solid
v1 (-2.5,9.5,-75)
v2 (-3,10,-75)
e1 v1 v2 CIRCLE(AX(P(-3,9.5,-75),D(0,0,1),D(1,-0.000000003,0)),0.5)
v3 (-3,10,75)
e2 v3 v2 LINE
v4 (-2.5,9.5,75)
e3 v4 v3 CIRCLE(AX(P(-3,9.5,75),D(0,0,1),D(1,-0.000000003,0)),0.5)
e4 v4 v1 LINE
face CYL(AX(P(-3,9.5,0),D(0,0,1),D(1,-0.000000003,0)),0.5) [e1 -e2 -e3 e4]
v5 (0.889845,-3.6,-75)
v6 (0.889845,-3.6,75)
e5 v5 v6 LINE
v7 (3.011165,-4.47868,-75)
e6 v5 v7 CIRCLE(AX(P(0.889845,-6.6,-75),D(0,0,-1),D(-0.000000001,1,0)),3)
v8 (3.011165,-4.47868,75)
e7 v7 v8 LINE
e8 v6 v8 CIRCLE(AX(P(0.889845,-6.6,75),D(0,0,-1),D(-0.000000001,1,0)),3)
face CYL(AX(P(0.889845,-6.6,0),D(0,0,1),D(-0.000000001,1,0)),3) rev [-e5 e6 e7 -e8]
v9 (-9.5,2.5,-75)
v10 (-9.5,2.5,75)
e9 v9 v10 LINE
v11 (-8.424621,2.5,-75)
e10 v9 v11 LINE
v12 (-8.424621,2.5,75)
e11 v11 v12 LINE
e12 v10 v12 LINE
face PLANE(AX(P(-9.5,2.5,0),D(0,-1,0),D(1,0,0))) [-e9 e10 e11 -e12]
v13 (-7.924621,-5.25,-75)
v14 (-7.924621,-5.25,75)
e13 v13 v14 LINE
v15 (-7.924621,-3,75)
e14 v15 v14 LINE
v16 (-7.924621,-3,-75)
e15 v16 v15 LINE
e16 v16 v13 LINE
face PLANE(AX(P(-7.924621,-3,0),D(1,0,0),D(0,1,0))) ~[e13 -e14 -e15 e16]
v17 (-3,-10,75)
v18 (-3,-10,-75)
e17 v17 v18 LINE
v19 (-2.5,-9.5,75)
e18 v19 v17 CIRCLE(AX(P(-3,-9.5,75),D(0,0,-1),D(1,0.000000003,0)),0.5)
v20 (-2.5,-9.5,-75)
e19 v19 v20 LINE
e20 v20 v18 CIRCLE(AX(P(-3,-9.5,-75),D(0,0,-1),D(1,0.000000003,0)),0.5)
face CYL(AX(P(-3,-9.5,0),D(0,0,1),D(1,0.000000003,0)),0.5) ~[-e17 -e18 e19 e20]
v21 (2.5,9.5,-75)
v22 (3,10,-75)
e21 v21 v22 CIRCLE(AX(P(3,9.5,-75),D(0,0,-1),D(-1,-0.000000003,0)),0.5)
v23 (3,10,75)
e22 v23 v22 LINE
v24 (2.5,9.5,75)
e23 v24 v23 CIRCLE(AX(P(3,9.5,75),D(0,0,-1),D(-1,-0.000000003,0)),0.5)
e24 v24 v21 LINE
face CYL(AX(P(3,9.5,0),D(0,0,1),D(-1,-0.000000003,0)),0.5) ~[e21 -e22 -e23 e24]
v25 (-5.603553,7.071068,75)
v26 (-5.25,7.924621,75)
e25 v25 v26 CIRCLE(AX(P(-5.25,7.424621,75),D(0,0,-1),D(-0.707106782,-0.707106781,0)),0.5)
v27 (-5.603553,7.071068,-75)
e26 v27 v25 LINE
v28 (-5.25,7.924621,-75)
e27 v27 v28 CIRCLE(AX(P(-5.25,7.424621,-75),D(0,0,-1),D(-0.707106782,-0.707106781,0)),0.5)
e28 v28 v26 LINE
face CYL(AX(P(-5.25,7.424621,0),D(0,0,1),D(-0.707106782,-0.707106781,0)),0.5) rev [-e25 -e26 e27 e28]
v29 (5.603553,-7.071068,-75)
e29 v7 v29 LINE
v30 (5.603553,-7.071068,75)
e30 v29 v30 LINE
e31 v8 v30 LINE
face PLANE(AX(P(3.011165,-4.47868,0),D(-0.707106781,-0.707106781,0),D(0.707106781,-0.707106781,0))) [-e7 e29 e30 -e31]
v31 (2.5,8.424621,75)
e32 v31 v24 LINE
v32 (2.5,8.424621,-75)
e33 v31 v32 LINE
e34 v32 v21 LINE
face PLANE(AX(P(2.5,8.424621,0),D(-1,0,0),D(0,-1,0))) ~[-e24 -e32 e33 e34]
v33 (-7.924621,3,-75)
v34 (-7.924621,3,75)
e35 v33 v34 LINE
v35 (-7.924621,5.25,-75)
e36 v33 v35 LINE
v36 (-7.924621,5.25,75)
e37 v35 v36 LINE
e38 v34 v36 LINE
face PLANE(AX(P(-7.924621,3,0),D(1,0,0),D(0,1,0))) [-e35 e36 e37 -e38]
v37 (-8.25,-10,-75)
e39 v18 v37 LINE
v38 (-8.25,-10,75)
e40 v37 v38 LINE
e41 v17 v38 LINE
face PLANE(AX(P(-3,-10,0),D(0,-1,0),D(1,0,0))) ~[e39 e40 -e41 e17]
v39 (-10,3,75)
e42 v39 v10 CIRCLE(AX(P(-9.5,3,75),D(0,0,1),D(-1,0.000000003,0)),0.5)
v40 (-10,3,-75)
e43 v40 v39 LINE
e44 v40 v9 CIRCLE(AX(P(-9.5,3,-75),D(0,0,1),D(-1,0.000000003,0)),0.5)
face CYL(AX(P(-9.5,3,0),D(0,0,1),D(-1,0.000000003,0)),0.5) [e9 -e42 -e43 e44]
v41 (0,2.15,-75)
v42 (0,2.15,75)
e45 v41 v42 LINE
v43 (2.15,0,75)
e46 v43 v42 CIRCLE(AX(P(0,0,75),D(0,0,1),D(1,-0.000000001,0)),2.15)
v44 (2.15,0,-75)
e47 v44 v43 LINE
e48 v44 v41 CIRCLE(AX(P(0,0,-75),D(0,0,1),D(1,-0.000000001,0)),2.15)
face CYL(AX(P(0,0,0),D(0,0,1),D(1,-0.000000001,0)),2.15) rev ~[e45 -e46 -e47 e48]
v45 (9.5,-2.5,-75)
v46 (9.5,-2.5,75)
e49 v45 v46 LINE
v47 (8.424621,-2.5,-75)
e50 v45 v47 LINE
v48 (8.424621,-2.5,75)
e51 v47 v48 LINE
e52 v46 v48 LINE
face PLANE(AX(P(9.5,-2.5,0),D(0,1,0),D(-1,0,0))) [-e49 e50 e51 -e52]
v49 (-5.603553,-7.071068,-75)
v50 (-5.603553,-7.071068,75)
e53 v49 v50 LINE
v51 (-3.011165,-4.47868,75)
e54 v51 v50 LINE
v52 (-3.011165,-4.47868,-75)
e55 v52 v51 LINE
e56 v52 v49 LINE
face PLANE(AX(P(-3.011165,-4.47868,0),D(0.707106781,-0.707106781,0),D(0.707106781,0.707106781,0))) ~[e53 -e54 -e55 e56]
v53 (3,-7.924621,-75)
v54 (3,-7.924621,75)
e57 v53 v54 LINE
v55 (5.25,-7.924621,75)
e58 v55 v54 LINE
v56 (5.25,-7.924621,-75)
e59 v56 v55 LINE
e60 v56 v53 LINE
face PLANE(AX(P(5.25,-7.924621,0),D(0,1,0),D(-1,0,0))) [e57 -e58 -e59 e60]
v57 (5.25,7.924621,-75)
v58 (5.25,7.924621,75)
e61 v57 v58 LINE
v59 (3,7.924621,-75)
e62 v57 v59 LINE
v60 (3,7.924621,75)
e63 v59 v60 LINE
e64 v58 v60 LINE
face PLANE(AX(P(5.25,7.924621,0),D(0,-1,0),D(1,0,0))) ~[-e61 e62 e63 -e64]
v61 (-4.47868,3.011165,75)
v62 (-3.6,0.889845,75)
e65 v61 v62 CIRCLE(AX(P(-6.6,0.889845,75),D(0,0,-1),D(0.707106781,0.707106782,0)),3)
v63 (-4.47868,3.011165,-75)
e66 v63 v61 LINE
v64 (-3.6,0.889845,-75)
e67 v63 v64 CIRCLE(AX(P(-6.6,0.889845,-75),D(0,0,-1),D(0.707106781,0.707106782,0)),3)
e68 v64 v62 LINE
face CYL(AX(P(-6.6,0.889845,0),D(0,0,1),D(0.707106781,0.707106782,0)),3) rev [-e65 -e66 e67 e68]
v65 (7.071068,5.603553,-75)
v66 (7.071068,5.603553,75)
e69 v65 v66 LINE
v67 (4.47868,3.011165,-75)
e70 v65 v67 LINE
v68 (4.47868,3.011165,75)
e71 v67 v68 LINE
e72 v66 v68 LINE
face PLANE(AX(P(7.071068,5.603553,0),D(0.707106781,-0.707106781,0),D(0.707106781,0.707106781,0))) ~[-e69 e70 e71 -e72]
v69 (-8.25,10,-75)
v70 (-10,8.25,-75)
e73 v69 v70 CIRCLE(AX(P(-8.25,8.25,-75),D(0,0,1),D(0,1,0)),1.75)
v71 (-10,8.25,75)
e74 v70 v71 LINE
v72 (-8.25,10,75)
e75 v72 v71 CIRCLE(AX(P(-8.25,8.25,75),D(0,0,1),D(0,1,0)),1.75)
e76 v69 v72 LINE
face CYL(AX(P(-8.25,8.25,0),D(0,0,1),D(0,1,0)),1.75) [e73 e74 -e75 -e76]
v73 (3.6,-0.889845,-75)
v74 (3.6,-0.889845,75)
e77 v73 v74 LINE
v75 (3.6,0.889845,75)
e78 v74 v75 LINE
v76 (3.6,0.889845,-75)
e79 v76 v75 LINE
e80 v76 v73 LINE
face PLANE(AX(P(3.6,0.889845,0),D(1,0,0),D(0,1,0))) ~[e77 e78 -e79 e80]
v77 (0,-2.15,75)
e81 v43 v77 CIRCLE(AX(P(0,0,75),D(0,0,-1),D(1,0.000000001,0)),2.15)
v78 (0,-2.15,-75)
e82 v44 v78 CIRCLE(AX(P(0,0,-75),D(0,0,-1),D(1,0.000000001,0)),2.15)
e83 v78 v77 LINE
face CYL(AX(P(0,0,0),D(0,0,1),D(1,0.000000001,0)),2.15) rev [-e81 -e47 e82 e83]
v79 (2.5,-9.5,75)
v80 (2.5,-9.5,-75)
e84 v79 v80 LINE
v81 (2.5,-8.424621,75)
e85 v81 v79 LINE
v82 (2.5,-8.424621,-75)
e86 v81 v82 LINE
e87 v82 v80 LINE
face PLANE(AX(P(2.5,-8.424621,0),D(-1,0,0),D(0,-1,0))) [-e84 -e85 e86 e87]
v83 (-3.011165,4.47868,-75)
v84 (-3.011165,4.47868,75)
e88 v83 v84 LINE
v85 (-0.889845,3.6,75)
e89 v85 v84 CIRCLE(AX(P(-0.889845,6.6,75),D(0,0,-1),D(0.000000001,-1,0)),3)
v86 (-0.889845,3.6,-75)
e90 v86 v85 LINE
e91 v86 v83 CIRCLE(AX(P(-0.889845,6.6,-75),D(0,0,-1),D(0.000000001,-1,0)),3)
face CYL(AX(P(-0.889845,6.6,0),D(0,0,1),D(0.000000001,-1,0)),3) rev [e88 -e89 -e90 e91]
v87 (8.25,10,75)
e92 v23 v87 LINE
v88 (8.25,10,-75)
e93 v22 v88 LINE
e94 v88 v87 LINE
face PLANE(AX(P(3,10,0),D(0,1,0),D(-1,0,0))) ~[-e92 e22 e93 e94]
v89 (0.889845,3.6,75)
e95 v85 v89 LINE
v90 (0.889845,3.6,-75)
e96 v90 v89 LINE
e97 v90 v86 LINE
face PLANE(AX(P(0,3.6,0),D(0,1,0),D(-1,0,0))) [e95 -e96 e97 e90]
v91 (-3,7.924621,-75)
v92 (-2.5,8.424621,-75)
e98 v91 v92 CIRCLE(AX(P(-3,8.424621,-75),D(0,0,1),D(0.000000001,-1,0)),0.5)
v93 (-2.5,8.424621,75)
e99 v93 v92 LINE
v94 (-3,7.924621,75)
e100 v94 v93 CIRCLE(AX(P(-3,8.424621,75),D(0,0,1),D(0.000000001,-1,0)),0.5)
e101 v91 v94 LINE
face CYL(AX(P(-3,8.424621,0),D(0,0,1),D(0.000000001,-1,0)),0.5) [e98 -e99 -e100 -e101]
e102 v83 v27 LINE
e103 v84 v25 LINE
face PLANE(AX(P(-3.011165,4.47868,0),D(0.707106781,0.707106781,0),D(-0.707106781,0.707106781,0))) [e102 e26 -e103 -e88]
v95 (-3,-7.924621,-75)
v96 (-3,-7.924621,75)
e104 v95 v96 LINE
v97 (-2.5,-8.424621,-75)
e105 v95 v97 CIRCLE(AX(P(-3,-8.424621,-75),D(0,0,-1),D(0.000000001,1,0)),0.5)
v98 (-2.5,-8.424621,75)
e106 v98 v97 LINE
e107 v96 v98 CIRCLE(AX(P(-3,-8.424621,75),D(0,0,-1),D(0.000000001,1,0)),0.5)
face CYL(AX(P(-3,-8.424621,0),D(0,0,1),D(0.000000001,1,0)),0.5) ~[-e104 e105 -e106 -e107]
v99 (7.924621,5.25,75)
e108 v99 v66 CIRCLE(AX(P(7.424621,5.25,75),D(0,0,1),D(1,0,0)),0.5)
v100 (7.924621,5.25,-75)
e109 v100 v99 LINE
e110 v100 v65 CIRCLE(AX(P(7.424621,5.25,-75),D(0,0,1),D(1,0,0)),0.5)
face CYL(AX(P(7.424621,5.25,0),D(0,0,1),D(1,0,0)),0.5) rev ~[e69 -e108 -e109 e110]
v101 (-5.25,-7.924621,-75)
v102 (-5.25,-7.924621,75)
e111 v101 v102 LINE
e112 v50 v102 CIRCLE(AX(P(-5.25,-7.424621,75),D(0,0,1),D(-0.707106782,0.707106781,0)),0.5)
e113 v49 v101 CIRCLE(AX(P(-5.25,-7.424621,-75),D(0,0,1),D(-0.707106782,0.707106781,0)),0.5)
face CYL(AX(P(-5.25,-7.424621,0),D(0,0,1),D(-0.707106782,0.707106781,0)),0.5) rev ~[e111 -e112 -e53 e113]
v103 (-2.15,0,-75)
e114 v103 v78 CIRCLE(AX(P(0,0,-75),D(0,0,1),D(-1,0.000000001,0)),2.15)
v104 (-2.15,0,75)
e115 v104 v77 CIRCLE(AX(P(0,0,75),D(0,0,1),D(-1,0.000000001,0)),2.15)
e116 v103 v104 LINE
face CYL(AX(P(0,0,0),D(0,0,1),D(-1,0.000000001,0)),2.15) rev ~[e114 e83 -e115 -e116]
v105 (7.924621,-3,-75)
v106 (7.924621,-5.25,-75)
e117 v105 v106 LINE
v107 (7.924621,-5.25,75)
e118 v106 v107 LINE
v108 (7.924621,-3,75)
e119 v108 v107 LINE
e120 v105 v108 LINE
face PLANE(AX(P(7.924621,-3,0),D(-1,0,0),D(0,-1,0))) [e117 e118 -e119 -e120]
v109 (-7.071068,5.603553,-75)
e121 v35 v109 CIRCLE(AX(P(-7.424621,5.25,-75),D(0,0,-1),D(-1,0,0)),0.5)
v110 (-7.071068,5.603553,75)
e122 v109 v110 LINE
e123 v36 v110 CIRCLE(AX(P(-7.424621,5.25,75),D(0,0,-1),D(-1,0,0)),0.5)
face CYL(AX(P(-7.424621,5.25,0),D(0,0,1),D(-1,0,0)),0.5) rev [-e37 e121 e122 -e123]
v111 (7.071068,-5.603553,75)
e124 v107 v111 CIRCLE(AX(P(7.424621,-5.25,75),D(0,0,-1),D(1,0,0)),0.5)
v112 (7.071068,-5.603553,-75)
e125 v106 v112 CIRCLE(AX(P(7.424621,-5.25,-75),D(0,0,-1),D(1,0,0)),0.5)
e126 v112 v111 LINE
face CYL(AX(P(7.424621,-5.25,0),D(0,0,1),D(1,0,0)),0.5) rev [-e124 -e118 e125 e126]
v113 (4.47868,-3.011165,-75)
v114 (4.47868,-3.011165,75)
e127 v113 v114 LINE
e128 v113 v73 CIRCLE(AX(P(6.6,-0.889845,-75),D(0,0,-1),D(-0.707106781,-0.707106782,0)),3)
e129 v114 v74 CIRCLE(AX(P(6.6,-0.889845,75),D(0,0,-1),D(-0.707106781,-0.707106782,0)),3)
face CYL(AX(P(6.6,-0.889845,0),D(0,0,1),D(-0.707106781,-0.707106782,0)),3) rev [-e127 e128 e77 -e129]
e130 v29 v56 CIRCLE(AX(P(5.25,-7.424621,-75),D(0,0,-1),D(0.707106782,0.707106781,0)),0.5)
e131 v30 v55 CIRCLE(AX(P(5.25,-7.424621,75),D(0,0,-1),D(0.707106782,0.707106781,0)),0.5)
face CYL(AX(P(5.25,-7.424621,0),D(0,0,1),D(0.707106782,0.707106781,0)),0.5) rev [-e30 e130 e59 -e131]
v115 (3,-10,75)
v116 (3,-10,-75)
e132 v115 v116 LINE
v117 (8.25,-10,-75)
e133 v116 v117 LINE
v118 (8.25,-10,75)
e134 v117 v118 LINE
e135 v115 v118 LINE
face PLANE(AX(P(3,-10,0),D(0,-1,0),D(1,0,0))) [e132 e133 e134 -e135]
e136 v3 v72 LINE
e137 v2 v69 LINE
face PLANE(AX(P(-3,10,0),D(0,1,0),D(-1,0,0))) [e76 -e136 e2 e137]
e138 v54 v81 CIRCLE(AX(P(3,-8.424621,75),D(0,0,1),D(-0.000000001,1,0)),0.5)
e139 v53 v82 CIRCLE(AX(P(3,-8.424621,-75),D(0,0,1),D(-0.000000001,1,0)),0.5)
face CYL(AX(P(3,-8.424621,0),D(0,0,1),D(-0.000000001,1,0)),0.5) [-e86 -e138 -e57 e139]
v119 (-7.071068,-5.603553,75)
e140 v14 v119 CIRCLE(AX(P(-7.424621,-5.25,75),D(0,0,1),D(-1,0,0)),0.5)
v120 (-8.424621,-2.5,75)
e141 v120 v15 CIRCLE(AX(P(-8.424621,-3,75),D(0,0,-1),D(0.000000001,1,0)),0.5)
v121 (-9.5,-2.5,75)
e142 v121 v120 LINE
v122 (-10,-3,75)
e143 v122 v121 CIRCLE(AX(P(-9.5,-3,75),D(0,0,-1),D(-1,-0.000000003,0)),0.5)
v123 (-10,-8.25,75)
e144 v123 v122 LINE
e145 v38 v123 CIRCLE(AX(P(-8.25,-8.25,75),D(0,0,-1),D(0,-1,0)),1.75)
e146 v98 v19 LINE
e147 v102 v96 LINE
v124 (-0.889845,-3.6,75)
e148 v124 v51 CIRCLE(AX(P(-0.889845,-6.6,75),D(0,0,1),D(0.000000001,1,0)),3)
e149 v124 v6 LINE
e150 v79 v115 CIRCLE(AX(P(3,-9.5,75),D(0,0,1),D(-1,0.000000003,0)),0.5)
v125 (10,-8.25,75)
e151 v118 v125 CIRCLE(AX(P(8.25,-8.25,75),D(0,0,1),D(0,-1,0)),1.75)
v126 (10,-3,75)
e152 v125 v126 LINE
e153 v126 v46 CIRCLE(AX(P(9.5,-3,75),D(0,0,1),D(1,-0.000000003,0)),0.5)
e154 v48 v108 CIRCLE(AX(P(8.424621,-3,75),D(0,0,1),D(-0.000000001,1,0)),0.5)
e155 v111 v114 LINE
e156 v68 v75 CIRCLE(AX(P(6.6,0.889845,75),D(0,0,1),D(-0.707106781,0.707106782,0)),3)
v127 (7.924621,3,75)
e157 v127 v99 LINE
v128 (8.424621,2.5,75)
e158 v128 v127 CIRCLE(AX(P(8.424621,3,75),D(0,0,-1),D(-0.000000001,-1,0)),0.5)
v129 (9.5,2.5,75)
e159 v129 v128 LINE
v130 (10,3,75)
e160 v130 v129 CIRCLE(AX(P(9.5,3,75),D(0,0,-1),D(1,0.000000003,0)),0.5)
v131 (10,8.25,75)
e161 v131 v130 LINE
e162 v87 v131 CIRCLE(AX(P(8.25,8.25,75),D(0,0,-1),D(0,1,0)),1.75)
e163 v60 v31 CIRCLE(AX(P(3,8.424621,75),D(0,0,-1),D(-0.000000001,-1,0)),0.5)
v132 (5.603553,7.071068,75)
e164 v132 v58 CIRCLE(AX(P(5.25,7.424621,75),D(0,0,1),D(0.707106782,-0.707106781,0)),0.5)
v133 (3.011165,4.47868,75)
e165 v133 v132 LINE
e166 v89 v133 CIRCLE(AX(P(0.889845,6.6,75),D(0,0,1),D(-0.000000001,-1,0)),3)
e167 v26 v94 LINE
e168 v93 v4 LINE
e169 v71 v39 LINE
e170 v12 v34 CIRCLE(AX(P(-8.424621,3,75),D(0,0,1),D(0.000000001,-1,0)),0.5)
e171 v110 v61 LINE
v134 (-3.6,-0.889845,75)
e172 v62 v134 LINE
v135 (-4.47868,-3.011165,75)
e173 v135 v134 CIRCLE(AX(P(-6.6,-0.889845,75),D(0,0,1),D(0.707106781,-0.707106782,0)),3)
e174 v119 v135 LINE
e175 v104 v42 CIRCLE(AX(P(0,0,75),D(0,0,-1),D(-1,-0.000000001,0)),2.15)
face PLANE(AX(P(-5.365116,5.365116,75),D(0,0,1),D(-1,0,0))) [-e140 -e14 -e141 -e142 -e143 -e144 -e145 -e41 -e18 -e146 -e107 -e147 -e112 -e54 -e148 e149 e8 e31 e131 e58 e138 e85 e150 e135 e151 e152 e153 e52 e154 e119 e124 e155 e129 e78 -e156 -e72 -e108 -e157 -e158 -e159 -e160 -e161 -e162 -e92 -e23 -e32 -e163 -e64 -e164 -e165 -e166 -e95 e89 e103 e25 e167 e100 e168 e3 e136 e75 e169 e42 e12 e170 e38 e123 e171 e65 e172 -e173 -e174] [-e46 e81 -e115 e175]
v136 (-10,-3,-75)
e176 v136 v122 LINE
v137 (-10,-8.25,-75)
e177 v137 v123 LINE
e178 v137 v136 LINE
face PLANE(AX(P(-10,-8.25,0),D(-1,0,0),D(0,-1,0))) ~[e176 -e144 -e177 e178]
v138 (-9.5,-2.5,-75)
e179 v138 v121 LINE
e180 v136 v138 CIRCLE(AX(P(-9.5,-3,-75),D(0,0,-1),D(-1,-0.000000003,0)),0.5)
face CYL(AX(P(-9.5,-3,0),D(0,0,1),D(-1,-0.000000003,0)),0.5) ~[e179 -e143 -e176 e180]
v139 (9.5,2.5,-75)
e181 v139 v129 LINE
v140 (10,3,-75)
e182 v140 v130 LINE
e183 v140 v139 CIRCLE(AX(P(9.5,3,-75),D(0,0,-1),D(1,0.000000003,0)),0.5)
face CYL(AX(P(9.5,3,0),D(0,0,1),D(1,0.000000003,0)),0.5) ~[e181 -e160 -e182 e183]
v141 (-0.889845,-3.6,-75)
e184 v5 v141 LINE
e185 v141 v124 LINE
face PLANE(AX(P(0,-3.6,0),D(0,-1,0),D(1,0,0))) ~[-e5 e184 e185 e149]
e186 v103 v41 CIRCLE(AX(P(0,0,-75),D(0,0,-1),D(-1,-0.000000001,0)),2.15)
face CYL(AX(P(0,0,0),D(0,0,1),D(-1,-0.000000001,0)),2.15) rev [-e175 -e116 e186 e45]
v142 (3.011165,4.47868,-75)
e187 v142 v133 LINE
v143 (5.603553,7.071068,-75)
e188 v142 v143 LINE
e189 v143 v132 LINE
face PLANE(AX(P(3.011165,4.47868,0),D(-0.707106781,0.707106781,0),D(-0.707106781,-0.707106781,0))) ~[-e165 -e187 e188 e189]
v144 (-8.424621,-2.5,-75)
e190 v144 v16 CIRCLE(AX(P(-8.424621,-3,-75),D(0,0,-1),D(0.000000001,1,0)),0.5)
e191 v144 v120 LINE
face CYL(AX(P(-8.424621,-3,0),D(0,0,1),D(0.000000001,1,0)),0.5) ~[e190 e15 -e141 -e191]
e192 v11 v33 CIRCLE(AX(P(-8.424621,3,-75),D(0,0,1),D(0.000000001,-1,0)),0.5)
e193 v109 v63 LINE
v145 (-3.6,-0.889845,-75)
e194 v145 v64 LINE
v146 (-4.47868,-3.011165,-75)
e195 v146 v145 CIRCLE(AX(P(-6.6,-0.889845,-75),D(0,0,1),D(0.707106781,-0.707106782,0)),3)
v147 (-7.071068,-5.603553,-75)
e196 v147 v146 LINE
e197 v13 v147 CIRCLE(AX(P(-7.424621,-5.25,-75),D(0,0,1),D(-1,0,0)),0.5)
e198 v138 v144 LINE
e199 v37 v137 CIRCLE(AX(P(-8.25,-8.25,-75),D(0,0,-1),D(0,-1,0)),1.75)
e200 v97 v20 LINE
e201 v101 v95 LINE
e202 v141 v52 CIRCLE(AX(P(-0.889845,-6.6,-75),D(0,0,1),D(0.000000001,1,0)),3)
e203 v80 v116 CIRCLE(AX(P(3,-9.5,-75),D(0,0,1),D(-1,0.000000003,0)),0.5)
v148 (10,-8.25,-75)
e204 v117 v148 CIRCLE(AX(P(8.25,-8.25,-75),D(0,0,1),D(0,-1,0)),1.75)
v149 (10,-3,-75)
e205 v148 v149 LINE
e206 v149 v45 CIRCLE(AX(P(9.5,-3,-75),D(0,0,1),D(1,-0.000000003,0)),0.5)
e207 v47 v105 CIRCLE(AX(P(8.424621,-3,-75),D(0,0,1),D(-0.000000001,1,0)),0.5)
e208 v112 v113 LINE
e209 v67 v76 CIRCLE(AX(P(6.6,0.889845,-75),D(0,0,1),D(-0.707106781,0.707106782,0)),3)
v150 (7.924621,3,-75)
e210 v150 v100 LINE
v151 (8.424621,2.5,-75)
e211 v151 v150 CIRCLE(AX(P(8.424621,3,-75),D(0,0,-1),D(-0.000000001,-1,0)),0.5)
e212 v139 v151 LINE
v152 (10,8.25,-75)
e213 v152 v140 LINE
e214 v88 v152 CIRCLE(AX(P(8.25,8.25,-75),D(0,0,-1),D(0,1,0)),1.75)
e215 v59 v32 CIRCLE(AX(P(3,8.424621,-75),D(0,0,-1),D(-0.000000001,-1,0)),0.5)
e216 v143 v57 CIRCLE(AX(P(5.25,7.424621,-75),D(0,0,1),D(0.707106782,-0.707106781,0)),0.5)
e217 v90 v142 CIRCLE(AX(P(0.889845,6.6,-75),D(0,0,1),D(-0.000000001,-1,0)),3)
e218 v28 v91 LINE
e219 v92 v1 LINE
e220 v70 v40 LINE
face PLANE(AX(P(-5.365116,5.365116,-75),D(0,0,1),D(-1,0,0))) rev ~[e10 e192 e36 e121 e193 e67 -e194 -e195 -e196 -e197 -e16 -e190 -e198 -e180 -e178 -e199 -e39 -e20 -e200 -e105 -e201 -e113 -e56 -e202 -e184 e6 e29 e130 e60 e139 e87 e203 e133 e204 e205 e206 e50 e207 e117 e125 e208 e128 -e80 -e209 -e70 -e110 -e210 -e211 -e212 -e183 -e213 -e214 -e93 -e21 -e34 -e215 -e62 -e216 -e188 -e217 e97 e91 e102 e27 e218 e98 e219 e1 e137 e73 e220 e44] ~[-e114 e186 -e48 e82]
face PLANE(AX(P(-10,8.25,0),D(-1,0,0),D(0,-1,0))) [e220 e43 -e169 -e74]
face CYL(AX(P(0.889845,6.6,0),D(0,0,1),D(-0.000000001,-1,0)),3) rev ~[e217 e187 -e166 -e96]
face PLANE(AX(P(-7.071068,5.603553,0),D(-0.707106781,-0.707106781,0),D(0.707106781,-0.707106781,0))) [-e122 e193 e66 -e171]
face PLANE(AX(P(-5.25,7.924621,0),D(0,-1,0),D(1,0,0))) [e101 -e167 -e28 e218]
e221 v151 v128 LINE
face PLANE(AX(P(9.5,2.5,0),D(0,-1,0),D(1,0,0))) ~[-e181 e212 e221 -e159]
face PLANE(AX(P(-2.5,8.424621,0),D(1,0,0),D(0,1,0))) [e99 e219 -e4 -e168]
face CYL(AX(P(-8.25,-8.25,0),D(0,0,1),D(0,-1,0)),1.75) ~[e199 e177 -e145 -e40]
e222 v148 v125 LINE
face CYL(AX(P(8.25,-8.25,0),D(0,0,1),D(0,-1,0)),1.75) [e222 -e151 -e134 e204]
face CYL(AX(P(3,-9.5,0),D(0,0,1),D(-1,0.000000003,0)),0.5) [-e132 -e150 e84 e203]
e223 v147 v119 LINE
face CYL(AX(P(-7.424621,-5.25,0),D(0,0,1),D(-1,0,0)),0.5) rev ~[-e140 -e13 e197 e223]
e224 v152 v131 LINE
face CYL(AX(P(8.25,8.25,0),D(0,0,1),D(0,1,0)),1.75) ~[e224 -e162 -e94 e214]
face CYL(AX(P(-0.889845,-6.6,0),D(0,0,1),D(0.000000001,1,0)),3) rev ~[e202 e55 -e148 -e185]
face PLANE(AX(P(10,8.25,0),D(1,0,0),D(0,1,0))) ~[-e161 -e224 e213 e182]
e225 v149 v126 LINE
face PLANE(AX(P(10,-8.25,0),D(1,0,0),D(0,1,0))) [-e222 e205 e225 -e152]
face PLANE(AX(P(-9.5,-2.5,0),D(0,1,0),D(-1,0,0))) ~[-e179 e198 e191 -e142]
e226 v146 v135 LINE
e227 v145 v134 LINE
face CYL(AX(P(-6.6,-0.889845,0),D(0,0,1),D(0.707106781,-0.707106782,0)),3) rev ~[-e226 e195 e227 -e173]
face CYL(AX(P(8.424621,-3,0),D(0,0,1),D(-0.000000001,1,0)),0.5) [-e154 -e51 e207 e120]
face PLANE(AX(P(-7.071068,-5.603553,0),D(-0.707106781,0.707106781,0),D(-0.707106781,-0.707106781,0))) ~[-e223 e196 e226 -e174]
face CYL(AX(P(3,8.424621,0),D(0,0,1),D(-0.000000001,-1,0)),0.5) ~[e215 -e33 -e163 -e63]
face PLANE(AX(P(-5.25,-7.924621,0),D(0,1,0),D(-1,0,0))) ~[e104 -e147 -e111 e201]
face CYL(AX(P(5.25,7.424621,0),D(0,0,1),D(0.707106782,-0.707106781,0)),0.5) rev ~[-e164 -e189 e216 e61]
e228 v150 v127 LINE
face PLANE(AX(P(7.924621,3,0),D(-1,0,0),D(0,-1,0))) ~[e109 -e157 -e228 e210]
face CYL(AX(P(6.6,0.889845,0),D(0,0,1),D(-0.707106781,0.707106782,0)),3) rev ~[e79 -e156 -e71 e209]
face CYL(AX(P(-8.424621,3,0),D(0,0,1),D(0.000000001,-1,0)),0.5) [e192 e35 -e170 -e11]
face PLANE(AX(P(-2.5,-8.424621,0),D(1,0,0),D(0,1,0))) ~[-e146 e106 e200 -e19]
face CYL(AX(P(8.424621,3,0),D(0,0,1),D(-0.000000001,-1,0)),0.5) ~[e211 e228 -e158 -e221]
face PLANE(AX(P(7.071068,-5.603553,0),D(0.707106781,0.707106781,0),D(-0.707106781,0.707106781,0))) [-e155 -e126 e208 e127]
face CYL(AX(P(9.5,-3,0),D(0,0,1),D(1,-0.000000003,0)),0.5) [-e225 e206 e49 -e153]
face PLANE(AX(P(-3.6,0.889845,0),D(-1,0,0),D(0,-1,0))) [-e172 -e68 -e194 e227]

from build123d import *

# Parameters (mm, degrees)
BOSS_EXTRUDE1_DEPTH = 75


with BuildPart() as part:
    # Sketch4 → Boss-Extrude1 (new, symmetric)
    with BuildSketch(Plane.XY):
        with BuildLine():
            Line((3, -10), (8.25, -10))
            ThreePointArc((8.25, -10), (9.487436867, -9.487436867), (10, -8.25))
            Line((10, -8.25), (10, -3))
            ThreePointArc((10, -3), (9.853553391, -2.646446609), (9.5, -2.5))
            Line((9.5, -2.5), (8.424621202, -2.5))
            ThreePointArc((8.424621202, -2.5), (8.071067812, -2.646446609), (7.924621202, -3))
            Line((7.924621202, -3), (7.924621202, -5.25))
            ThreePointArc((7.924621202, -5.25), (7.615962919, -5.711939766), (7.071067812, -5.603553391))
            Line((7.071067812, -5.603553391), (4.478679656, -3.011165235))
            ThreePointArc((4.478679656, -3.011165235), (3.828361402, -2.037895189), (3.6, -0.889844892))
            Line((3.6, -0.889844892), (3.6, 0))
            Line((3.6, 0), (2.15, 0))
            ThreePointArc((2.15, 0), (1.52027958, -1.52027958), (0, -2.15))
            Line((0, -2.15), (0, -3.6))
            Line((0, -3.6), (0.889844892, -3.6))
            ThreePointArc((0.889844892, -3.6), (2.037895189, -3.828361402), (3.011165235, -4.478679656))
            Line((3.011165235, -4.478679656), (5.603553391, -7.071067812))
            ThreePointArc((5.603553391, -7.071067812), (5.711939766, -7.615962919), (5.25, -7.924621202))
            Line((5.25, -7.924621202), (3, -7.924621202))
            ThreePointArc((3, -7.924621202), (2.646446609, -8.071067812), (2.5, -8.424621202))
            Line((2.5, -8.424621202), (2.5, -9.5))
            ThreePointArc((2.5, -9.5), (2.646446609, -9.853553391), (3, -10))
        make_face()
    extrude(amount=BOSS_EXTRUDE1_DEPTH, both=True)

    # Mirror1: part across plane


with BuildPart() as part_1:
    add(part.part)
    add(part.part.mirror(Plane(origin=(0, 0, 0), x_dir=(0, 0, 1), z_dir=(1, 0, 0))))

    # Mirror2: part across plane


with BuildPart() as part_2:
    add(part_1.part)
    add(part_1.part.mirror(Plane.ZX))


solid = part_2.part
